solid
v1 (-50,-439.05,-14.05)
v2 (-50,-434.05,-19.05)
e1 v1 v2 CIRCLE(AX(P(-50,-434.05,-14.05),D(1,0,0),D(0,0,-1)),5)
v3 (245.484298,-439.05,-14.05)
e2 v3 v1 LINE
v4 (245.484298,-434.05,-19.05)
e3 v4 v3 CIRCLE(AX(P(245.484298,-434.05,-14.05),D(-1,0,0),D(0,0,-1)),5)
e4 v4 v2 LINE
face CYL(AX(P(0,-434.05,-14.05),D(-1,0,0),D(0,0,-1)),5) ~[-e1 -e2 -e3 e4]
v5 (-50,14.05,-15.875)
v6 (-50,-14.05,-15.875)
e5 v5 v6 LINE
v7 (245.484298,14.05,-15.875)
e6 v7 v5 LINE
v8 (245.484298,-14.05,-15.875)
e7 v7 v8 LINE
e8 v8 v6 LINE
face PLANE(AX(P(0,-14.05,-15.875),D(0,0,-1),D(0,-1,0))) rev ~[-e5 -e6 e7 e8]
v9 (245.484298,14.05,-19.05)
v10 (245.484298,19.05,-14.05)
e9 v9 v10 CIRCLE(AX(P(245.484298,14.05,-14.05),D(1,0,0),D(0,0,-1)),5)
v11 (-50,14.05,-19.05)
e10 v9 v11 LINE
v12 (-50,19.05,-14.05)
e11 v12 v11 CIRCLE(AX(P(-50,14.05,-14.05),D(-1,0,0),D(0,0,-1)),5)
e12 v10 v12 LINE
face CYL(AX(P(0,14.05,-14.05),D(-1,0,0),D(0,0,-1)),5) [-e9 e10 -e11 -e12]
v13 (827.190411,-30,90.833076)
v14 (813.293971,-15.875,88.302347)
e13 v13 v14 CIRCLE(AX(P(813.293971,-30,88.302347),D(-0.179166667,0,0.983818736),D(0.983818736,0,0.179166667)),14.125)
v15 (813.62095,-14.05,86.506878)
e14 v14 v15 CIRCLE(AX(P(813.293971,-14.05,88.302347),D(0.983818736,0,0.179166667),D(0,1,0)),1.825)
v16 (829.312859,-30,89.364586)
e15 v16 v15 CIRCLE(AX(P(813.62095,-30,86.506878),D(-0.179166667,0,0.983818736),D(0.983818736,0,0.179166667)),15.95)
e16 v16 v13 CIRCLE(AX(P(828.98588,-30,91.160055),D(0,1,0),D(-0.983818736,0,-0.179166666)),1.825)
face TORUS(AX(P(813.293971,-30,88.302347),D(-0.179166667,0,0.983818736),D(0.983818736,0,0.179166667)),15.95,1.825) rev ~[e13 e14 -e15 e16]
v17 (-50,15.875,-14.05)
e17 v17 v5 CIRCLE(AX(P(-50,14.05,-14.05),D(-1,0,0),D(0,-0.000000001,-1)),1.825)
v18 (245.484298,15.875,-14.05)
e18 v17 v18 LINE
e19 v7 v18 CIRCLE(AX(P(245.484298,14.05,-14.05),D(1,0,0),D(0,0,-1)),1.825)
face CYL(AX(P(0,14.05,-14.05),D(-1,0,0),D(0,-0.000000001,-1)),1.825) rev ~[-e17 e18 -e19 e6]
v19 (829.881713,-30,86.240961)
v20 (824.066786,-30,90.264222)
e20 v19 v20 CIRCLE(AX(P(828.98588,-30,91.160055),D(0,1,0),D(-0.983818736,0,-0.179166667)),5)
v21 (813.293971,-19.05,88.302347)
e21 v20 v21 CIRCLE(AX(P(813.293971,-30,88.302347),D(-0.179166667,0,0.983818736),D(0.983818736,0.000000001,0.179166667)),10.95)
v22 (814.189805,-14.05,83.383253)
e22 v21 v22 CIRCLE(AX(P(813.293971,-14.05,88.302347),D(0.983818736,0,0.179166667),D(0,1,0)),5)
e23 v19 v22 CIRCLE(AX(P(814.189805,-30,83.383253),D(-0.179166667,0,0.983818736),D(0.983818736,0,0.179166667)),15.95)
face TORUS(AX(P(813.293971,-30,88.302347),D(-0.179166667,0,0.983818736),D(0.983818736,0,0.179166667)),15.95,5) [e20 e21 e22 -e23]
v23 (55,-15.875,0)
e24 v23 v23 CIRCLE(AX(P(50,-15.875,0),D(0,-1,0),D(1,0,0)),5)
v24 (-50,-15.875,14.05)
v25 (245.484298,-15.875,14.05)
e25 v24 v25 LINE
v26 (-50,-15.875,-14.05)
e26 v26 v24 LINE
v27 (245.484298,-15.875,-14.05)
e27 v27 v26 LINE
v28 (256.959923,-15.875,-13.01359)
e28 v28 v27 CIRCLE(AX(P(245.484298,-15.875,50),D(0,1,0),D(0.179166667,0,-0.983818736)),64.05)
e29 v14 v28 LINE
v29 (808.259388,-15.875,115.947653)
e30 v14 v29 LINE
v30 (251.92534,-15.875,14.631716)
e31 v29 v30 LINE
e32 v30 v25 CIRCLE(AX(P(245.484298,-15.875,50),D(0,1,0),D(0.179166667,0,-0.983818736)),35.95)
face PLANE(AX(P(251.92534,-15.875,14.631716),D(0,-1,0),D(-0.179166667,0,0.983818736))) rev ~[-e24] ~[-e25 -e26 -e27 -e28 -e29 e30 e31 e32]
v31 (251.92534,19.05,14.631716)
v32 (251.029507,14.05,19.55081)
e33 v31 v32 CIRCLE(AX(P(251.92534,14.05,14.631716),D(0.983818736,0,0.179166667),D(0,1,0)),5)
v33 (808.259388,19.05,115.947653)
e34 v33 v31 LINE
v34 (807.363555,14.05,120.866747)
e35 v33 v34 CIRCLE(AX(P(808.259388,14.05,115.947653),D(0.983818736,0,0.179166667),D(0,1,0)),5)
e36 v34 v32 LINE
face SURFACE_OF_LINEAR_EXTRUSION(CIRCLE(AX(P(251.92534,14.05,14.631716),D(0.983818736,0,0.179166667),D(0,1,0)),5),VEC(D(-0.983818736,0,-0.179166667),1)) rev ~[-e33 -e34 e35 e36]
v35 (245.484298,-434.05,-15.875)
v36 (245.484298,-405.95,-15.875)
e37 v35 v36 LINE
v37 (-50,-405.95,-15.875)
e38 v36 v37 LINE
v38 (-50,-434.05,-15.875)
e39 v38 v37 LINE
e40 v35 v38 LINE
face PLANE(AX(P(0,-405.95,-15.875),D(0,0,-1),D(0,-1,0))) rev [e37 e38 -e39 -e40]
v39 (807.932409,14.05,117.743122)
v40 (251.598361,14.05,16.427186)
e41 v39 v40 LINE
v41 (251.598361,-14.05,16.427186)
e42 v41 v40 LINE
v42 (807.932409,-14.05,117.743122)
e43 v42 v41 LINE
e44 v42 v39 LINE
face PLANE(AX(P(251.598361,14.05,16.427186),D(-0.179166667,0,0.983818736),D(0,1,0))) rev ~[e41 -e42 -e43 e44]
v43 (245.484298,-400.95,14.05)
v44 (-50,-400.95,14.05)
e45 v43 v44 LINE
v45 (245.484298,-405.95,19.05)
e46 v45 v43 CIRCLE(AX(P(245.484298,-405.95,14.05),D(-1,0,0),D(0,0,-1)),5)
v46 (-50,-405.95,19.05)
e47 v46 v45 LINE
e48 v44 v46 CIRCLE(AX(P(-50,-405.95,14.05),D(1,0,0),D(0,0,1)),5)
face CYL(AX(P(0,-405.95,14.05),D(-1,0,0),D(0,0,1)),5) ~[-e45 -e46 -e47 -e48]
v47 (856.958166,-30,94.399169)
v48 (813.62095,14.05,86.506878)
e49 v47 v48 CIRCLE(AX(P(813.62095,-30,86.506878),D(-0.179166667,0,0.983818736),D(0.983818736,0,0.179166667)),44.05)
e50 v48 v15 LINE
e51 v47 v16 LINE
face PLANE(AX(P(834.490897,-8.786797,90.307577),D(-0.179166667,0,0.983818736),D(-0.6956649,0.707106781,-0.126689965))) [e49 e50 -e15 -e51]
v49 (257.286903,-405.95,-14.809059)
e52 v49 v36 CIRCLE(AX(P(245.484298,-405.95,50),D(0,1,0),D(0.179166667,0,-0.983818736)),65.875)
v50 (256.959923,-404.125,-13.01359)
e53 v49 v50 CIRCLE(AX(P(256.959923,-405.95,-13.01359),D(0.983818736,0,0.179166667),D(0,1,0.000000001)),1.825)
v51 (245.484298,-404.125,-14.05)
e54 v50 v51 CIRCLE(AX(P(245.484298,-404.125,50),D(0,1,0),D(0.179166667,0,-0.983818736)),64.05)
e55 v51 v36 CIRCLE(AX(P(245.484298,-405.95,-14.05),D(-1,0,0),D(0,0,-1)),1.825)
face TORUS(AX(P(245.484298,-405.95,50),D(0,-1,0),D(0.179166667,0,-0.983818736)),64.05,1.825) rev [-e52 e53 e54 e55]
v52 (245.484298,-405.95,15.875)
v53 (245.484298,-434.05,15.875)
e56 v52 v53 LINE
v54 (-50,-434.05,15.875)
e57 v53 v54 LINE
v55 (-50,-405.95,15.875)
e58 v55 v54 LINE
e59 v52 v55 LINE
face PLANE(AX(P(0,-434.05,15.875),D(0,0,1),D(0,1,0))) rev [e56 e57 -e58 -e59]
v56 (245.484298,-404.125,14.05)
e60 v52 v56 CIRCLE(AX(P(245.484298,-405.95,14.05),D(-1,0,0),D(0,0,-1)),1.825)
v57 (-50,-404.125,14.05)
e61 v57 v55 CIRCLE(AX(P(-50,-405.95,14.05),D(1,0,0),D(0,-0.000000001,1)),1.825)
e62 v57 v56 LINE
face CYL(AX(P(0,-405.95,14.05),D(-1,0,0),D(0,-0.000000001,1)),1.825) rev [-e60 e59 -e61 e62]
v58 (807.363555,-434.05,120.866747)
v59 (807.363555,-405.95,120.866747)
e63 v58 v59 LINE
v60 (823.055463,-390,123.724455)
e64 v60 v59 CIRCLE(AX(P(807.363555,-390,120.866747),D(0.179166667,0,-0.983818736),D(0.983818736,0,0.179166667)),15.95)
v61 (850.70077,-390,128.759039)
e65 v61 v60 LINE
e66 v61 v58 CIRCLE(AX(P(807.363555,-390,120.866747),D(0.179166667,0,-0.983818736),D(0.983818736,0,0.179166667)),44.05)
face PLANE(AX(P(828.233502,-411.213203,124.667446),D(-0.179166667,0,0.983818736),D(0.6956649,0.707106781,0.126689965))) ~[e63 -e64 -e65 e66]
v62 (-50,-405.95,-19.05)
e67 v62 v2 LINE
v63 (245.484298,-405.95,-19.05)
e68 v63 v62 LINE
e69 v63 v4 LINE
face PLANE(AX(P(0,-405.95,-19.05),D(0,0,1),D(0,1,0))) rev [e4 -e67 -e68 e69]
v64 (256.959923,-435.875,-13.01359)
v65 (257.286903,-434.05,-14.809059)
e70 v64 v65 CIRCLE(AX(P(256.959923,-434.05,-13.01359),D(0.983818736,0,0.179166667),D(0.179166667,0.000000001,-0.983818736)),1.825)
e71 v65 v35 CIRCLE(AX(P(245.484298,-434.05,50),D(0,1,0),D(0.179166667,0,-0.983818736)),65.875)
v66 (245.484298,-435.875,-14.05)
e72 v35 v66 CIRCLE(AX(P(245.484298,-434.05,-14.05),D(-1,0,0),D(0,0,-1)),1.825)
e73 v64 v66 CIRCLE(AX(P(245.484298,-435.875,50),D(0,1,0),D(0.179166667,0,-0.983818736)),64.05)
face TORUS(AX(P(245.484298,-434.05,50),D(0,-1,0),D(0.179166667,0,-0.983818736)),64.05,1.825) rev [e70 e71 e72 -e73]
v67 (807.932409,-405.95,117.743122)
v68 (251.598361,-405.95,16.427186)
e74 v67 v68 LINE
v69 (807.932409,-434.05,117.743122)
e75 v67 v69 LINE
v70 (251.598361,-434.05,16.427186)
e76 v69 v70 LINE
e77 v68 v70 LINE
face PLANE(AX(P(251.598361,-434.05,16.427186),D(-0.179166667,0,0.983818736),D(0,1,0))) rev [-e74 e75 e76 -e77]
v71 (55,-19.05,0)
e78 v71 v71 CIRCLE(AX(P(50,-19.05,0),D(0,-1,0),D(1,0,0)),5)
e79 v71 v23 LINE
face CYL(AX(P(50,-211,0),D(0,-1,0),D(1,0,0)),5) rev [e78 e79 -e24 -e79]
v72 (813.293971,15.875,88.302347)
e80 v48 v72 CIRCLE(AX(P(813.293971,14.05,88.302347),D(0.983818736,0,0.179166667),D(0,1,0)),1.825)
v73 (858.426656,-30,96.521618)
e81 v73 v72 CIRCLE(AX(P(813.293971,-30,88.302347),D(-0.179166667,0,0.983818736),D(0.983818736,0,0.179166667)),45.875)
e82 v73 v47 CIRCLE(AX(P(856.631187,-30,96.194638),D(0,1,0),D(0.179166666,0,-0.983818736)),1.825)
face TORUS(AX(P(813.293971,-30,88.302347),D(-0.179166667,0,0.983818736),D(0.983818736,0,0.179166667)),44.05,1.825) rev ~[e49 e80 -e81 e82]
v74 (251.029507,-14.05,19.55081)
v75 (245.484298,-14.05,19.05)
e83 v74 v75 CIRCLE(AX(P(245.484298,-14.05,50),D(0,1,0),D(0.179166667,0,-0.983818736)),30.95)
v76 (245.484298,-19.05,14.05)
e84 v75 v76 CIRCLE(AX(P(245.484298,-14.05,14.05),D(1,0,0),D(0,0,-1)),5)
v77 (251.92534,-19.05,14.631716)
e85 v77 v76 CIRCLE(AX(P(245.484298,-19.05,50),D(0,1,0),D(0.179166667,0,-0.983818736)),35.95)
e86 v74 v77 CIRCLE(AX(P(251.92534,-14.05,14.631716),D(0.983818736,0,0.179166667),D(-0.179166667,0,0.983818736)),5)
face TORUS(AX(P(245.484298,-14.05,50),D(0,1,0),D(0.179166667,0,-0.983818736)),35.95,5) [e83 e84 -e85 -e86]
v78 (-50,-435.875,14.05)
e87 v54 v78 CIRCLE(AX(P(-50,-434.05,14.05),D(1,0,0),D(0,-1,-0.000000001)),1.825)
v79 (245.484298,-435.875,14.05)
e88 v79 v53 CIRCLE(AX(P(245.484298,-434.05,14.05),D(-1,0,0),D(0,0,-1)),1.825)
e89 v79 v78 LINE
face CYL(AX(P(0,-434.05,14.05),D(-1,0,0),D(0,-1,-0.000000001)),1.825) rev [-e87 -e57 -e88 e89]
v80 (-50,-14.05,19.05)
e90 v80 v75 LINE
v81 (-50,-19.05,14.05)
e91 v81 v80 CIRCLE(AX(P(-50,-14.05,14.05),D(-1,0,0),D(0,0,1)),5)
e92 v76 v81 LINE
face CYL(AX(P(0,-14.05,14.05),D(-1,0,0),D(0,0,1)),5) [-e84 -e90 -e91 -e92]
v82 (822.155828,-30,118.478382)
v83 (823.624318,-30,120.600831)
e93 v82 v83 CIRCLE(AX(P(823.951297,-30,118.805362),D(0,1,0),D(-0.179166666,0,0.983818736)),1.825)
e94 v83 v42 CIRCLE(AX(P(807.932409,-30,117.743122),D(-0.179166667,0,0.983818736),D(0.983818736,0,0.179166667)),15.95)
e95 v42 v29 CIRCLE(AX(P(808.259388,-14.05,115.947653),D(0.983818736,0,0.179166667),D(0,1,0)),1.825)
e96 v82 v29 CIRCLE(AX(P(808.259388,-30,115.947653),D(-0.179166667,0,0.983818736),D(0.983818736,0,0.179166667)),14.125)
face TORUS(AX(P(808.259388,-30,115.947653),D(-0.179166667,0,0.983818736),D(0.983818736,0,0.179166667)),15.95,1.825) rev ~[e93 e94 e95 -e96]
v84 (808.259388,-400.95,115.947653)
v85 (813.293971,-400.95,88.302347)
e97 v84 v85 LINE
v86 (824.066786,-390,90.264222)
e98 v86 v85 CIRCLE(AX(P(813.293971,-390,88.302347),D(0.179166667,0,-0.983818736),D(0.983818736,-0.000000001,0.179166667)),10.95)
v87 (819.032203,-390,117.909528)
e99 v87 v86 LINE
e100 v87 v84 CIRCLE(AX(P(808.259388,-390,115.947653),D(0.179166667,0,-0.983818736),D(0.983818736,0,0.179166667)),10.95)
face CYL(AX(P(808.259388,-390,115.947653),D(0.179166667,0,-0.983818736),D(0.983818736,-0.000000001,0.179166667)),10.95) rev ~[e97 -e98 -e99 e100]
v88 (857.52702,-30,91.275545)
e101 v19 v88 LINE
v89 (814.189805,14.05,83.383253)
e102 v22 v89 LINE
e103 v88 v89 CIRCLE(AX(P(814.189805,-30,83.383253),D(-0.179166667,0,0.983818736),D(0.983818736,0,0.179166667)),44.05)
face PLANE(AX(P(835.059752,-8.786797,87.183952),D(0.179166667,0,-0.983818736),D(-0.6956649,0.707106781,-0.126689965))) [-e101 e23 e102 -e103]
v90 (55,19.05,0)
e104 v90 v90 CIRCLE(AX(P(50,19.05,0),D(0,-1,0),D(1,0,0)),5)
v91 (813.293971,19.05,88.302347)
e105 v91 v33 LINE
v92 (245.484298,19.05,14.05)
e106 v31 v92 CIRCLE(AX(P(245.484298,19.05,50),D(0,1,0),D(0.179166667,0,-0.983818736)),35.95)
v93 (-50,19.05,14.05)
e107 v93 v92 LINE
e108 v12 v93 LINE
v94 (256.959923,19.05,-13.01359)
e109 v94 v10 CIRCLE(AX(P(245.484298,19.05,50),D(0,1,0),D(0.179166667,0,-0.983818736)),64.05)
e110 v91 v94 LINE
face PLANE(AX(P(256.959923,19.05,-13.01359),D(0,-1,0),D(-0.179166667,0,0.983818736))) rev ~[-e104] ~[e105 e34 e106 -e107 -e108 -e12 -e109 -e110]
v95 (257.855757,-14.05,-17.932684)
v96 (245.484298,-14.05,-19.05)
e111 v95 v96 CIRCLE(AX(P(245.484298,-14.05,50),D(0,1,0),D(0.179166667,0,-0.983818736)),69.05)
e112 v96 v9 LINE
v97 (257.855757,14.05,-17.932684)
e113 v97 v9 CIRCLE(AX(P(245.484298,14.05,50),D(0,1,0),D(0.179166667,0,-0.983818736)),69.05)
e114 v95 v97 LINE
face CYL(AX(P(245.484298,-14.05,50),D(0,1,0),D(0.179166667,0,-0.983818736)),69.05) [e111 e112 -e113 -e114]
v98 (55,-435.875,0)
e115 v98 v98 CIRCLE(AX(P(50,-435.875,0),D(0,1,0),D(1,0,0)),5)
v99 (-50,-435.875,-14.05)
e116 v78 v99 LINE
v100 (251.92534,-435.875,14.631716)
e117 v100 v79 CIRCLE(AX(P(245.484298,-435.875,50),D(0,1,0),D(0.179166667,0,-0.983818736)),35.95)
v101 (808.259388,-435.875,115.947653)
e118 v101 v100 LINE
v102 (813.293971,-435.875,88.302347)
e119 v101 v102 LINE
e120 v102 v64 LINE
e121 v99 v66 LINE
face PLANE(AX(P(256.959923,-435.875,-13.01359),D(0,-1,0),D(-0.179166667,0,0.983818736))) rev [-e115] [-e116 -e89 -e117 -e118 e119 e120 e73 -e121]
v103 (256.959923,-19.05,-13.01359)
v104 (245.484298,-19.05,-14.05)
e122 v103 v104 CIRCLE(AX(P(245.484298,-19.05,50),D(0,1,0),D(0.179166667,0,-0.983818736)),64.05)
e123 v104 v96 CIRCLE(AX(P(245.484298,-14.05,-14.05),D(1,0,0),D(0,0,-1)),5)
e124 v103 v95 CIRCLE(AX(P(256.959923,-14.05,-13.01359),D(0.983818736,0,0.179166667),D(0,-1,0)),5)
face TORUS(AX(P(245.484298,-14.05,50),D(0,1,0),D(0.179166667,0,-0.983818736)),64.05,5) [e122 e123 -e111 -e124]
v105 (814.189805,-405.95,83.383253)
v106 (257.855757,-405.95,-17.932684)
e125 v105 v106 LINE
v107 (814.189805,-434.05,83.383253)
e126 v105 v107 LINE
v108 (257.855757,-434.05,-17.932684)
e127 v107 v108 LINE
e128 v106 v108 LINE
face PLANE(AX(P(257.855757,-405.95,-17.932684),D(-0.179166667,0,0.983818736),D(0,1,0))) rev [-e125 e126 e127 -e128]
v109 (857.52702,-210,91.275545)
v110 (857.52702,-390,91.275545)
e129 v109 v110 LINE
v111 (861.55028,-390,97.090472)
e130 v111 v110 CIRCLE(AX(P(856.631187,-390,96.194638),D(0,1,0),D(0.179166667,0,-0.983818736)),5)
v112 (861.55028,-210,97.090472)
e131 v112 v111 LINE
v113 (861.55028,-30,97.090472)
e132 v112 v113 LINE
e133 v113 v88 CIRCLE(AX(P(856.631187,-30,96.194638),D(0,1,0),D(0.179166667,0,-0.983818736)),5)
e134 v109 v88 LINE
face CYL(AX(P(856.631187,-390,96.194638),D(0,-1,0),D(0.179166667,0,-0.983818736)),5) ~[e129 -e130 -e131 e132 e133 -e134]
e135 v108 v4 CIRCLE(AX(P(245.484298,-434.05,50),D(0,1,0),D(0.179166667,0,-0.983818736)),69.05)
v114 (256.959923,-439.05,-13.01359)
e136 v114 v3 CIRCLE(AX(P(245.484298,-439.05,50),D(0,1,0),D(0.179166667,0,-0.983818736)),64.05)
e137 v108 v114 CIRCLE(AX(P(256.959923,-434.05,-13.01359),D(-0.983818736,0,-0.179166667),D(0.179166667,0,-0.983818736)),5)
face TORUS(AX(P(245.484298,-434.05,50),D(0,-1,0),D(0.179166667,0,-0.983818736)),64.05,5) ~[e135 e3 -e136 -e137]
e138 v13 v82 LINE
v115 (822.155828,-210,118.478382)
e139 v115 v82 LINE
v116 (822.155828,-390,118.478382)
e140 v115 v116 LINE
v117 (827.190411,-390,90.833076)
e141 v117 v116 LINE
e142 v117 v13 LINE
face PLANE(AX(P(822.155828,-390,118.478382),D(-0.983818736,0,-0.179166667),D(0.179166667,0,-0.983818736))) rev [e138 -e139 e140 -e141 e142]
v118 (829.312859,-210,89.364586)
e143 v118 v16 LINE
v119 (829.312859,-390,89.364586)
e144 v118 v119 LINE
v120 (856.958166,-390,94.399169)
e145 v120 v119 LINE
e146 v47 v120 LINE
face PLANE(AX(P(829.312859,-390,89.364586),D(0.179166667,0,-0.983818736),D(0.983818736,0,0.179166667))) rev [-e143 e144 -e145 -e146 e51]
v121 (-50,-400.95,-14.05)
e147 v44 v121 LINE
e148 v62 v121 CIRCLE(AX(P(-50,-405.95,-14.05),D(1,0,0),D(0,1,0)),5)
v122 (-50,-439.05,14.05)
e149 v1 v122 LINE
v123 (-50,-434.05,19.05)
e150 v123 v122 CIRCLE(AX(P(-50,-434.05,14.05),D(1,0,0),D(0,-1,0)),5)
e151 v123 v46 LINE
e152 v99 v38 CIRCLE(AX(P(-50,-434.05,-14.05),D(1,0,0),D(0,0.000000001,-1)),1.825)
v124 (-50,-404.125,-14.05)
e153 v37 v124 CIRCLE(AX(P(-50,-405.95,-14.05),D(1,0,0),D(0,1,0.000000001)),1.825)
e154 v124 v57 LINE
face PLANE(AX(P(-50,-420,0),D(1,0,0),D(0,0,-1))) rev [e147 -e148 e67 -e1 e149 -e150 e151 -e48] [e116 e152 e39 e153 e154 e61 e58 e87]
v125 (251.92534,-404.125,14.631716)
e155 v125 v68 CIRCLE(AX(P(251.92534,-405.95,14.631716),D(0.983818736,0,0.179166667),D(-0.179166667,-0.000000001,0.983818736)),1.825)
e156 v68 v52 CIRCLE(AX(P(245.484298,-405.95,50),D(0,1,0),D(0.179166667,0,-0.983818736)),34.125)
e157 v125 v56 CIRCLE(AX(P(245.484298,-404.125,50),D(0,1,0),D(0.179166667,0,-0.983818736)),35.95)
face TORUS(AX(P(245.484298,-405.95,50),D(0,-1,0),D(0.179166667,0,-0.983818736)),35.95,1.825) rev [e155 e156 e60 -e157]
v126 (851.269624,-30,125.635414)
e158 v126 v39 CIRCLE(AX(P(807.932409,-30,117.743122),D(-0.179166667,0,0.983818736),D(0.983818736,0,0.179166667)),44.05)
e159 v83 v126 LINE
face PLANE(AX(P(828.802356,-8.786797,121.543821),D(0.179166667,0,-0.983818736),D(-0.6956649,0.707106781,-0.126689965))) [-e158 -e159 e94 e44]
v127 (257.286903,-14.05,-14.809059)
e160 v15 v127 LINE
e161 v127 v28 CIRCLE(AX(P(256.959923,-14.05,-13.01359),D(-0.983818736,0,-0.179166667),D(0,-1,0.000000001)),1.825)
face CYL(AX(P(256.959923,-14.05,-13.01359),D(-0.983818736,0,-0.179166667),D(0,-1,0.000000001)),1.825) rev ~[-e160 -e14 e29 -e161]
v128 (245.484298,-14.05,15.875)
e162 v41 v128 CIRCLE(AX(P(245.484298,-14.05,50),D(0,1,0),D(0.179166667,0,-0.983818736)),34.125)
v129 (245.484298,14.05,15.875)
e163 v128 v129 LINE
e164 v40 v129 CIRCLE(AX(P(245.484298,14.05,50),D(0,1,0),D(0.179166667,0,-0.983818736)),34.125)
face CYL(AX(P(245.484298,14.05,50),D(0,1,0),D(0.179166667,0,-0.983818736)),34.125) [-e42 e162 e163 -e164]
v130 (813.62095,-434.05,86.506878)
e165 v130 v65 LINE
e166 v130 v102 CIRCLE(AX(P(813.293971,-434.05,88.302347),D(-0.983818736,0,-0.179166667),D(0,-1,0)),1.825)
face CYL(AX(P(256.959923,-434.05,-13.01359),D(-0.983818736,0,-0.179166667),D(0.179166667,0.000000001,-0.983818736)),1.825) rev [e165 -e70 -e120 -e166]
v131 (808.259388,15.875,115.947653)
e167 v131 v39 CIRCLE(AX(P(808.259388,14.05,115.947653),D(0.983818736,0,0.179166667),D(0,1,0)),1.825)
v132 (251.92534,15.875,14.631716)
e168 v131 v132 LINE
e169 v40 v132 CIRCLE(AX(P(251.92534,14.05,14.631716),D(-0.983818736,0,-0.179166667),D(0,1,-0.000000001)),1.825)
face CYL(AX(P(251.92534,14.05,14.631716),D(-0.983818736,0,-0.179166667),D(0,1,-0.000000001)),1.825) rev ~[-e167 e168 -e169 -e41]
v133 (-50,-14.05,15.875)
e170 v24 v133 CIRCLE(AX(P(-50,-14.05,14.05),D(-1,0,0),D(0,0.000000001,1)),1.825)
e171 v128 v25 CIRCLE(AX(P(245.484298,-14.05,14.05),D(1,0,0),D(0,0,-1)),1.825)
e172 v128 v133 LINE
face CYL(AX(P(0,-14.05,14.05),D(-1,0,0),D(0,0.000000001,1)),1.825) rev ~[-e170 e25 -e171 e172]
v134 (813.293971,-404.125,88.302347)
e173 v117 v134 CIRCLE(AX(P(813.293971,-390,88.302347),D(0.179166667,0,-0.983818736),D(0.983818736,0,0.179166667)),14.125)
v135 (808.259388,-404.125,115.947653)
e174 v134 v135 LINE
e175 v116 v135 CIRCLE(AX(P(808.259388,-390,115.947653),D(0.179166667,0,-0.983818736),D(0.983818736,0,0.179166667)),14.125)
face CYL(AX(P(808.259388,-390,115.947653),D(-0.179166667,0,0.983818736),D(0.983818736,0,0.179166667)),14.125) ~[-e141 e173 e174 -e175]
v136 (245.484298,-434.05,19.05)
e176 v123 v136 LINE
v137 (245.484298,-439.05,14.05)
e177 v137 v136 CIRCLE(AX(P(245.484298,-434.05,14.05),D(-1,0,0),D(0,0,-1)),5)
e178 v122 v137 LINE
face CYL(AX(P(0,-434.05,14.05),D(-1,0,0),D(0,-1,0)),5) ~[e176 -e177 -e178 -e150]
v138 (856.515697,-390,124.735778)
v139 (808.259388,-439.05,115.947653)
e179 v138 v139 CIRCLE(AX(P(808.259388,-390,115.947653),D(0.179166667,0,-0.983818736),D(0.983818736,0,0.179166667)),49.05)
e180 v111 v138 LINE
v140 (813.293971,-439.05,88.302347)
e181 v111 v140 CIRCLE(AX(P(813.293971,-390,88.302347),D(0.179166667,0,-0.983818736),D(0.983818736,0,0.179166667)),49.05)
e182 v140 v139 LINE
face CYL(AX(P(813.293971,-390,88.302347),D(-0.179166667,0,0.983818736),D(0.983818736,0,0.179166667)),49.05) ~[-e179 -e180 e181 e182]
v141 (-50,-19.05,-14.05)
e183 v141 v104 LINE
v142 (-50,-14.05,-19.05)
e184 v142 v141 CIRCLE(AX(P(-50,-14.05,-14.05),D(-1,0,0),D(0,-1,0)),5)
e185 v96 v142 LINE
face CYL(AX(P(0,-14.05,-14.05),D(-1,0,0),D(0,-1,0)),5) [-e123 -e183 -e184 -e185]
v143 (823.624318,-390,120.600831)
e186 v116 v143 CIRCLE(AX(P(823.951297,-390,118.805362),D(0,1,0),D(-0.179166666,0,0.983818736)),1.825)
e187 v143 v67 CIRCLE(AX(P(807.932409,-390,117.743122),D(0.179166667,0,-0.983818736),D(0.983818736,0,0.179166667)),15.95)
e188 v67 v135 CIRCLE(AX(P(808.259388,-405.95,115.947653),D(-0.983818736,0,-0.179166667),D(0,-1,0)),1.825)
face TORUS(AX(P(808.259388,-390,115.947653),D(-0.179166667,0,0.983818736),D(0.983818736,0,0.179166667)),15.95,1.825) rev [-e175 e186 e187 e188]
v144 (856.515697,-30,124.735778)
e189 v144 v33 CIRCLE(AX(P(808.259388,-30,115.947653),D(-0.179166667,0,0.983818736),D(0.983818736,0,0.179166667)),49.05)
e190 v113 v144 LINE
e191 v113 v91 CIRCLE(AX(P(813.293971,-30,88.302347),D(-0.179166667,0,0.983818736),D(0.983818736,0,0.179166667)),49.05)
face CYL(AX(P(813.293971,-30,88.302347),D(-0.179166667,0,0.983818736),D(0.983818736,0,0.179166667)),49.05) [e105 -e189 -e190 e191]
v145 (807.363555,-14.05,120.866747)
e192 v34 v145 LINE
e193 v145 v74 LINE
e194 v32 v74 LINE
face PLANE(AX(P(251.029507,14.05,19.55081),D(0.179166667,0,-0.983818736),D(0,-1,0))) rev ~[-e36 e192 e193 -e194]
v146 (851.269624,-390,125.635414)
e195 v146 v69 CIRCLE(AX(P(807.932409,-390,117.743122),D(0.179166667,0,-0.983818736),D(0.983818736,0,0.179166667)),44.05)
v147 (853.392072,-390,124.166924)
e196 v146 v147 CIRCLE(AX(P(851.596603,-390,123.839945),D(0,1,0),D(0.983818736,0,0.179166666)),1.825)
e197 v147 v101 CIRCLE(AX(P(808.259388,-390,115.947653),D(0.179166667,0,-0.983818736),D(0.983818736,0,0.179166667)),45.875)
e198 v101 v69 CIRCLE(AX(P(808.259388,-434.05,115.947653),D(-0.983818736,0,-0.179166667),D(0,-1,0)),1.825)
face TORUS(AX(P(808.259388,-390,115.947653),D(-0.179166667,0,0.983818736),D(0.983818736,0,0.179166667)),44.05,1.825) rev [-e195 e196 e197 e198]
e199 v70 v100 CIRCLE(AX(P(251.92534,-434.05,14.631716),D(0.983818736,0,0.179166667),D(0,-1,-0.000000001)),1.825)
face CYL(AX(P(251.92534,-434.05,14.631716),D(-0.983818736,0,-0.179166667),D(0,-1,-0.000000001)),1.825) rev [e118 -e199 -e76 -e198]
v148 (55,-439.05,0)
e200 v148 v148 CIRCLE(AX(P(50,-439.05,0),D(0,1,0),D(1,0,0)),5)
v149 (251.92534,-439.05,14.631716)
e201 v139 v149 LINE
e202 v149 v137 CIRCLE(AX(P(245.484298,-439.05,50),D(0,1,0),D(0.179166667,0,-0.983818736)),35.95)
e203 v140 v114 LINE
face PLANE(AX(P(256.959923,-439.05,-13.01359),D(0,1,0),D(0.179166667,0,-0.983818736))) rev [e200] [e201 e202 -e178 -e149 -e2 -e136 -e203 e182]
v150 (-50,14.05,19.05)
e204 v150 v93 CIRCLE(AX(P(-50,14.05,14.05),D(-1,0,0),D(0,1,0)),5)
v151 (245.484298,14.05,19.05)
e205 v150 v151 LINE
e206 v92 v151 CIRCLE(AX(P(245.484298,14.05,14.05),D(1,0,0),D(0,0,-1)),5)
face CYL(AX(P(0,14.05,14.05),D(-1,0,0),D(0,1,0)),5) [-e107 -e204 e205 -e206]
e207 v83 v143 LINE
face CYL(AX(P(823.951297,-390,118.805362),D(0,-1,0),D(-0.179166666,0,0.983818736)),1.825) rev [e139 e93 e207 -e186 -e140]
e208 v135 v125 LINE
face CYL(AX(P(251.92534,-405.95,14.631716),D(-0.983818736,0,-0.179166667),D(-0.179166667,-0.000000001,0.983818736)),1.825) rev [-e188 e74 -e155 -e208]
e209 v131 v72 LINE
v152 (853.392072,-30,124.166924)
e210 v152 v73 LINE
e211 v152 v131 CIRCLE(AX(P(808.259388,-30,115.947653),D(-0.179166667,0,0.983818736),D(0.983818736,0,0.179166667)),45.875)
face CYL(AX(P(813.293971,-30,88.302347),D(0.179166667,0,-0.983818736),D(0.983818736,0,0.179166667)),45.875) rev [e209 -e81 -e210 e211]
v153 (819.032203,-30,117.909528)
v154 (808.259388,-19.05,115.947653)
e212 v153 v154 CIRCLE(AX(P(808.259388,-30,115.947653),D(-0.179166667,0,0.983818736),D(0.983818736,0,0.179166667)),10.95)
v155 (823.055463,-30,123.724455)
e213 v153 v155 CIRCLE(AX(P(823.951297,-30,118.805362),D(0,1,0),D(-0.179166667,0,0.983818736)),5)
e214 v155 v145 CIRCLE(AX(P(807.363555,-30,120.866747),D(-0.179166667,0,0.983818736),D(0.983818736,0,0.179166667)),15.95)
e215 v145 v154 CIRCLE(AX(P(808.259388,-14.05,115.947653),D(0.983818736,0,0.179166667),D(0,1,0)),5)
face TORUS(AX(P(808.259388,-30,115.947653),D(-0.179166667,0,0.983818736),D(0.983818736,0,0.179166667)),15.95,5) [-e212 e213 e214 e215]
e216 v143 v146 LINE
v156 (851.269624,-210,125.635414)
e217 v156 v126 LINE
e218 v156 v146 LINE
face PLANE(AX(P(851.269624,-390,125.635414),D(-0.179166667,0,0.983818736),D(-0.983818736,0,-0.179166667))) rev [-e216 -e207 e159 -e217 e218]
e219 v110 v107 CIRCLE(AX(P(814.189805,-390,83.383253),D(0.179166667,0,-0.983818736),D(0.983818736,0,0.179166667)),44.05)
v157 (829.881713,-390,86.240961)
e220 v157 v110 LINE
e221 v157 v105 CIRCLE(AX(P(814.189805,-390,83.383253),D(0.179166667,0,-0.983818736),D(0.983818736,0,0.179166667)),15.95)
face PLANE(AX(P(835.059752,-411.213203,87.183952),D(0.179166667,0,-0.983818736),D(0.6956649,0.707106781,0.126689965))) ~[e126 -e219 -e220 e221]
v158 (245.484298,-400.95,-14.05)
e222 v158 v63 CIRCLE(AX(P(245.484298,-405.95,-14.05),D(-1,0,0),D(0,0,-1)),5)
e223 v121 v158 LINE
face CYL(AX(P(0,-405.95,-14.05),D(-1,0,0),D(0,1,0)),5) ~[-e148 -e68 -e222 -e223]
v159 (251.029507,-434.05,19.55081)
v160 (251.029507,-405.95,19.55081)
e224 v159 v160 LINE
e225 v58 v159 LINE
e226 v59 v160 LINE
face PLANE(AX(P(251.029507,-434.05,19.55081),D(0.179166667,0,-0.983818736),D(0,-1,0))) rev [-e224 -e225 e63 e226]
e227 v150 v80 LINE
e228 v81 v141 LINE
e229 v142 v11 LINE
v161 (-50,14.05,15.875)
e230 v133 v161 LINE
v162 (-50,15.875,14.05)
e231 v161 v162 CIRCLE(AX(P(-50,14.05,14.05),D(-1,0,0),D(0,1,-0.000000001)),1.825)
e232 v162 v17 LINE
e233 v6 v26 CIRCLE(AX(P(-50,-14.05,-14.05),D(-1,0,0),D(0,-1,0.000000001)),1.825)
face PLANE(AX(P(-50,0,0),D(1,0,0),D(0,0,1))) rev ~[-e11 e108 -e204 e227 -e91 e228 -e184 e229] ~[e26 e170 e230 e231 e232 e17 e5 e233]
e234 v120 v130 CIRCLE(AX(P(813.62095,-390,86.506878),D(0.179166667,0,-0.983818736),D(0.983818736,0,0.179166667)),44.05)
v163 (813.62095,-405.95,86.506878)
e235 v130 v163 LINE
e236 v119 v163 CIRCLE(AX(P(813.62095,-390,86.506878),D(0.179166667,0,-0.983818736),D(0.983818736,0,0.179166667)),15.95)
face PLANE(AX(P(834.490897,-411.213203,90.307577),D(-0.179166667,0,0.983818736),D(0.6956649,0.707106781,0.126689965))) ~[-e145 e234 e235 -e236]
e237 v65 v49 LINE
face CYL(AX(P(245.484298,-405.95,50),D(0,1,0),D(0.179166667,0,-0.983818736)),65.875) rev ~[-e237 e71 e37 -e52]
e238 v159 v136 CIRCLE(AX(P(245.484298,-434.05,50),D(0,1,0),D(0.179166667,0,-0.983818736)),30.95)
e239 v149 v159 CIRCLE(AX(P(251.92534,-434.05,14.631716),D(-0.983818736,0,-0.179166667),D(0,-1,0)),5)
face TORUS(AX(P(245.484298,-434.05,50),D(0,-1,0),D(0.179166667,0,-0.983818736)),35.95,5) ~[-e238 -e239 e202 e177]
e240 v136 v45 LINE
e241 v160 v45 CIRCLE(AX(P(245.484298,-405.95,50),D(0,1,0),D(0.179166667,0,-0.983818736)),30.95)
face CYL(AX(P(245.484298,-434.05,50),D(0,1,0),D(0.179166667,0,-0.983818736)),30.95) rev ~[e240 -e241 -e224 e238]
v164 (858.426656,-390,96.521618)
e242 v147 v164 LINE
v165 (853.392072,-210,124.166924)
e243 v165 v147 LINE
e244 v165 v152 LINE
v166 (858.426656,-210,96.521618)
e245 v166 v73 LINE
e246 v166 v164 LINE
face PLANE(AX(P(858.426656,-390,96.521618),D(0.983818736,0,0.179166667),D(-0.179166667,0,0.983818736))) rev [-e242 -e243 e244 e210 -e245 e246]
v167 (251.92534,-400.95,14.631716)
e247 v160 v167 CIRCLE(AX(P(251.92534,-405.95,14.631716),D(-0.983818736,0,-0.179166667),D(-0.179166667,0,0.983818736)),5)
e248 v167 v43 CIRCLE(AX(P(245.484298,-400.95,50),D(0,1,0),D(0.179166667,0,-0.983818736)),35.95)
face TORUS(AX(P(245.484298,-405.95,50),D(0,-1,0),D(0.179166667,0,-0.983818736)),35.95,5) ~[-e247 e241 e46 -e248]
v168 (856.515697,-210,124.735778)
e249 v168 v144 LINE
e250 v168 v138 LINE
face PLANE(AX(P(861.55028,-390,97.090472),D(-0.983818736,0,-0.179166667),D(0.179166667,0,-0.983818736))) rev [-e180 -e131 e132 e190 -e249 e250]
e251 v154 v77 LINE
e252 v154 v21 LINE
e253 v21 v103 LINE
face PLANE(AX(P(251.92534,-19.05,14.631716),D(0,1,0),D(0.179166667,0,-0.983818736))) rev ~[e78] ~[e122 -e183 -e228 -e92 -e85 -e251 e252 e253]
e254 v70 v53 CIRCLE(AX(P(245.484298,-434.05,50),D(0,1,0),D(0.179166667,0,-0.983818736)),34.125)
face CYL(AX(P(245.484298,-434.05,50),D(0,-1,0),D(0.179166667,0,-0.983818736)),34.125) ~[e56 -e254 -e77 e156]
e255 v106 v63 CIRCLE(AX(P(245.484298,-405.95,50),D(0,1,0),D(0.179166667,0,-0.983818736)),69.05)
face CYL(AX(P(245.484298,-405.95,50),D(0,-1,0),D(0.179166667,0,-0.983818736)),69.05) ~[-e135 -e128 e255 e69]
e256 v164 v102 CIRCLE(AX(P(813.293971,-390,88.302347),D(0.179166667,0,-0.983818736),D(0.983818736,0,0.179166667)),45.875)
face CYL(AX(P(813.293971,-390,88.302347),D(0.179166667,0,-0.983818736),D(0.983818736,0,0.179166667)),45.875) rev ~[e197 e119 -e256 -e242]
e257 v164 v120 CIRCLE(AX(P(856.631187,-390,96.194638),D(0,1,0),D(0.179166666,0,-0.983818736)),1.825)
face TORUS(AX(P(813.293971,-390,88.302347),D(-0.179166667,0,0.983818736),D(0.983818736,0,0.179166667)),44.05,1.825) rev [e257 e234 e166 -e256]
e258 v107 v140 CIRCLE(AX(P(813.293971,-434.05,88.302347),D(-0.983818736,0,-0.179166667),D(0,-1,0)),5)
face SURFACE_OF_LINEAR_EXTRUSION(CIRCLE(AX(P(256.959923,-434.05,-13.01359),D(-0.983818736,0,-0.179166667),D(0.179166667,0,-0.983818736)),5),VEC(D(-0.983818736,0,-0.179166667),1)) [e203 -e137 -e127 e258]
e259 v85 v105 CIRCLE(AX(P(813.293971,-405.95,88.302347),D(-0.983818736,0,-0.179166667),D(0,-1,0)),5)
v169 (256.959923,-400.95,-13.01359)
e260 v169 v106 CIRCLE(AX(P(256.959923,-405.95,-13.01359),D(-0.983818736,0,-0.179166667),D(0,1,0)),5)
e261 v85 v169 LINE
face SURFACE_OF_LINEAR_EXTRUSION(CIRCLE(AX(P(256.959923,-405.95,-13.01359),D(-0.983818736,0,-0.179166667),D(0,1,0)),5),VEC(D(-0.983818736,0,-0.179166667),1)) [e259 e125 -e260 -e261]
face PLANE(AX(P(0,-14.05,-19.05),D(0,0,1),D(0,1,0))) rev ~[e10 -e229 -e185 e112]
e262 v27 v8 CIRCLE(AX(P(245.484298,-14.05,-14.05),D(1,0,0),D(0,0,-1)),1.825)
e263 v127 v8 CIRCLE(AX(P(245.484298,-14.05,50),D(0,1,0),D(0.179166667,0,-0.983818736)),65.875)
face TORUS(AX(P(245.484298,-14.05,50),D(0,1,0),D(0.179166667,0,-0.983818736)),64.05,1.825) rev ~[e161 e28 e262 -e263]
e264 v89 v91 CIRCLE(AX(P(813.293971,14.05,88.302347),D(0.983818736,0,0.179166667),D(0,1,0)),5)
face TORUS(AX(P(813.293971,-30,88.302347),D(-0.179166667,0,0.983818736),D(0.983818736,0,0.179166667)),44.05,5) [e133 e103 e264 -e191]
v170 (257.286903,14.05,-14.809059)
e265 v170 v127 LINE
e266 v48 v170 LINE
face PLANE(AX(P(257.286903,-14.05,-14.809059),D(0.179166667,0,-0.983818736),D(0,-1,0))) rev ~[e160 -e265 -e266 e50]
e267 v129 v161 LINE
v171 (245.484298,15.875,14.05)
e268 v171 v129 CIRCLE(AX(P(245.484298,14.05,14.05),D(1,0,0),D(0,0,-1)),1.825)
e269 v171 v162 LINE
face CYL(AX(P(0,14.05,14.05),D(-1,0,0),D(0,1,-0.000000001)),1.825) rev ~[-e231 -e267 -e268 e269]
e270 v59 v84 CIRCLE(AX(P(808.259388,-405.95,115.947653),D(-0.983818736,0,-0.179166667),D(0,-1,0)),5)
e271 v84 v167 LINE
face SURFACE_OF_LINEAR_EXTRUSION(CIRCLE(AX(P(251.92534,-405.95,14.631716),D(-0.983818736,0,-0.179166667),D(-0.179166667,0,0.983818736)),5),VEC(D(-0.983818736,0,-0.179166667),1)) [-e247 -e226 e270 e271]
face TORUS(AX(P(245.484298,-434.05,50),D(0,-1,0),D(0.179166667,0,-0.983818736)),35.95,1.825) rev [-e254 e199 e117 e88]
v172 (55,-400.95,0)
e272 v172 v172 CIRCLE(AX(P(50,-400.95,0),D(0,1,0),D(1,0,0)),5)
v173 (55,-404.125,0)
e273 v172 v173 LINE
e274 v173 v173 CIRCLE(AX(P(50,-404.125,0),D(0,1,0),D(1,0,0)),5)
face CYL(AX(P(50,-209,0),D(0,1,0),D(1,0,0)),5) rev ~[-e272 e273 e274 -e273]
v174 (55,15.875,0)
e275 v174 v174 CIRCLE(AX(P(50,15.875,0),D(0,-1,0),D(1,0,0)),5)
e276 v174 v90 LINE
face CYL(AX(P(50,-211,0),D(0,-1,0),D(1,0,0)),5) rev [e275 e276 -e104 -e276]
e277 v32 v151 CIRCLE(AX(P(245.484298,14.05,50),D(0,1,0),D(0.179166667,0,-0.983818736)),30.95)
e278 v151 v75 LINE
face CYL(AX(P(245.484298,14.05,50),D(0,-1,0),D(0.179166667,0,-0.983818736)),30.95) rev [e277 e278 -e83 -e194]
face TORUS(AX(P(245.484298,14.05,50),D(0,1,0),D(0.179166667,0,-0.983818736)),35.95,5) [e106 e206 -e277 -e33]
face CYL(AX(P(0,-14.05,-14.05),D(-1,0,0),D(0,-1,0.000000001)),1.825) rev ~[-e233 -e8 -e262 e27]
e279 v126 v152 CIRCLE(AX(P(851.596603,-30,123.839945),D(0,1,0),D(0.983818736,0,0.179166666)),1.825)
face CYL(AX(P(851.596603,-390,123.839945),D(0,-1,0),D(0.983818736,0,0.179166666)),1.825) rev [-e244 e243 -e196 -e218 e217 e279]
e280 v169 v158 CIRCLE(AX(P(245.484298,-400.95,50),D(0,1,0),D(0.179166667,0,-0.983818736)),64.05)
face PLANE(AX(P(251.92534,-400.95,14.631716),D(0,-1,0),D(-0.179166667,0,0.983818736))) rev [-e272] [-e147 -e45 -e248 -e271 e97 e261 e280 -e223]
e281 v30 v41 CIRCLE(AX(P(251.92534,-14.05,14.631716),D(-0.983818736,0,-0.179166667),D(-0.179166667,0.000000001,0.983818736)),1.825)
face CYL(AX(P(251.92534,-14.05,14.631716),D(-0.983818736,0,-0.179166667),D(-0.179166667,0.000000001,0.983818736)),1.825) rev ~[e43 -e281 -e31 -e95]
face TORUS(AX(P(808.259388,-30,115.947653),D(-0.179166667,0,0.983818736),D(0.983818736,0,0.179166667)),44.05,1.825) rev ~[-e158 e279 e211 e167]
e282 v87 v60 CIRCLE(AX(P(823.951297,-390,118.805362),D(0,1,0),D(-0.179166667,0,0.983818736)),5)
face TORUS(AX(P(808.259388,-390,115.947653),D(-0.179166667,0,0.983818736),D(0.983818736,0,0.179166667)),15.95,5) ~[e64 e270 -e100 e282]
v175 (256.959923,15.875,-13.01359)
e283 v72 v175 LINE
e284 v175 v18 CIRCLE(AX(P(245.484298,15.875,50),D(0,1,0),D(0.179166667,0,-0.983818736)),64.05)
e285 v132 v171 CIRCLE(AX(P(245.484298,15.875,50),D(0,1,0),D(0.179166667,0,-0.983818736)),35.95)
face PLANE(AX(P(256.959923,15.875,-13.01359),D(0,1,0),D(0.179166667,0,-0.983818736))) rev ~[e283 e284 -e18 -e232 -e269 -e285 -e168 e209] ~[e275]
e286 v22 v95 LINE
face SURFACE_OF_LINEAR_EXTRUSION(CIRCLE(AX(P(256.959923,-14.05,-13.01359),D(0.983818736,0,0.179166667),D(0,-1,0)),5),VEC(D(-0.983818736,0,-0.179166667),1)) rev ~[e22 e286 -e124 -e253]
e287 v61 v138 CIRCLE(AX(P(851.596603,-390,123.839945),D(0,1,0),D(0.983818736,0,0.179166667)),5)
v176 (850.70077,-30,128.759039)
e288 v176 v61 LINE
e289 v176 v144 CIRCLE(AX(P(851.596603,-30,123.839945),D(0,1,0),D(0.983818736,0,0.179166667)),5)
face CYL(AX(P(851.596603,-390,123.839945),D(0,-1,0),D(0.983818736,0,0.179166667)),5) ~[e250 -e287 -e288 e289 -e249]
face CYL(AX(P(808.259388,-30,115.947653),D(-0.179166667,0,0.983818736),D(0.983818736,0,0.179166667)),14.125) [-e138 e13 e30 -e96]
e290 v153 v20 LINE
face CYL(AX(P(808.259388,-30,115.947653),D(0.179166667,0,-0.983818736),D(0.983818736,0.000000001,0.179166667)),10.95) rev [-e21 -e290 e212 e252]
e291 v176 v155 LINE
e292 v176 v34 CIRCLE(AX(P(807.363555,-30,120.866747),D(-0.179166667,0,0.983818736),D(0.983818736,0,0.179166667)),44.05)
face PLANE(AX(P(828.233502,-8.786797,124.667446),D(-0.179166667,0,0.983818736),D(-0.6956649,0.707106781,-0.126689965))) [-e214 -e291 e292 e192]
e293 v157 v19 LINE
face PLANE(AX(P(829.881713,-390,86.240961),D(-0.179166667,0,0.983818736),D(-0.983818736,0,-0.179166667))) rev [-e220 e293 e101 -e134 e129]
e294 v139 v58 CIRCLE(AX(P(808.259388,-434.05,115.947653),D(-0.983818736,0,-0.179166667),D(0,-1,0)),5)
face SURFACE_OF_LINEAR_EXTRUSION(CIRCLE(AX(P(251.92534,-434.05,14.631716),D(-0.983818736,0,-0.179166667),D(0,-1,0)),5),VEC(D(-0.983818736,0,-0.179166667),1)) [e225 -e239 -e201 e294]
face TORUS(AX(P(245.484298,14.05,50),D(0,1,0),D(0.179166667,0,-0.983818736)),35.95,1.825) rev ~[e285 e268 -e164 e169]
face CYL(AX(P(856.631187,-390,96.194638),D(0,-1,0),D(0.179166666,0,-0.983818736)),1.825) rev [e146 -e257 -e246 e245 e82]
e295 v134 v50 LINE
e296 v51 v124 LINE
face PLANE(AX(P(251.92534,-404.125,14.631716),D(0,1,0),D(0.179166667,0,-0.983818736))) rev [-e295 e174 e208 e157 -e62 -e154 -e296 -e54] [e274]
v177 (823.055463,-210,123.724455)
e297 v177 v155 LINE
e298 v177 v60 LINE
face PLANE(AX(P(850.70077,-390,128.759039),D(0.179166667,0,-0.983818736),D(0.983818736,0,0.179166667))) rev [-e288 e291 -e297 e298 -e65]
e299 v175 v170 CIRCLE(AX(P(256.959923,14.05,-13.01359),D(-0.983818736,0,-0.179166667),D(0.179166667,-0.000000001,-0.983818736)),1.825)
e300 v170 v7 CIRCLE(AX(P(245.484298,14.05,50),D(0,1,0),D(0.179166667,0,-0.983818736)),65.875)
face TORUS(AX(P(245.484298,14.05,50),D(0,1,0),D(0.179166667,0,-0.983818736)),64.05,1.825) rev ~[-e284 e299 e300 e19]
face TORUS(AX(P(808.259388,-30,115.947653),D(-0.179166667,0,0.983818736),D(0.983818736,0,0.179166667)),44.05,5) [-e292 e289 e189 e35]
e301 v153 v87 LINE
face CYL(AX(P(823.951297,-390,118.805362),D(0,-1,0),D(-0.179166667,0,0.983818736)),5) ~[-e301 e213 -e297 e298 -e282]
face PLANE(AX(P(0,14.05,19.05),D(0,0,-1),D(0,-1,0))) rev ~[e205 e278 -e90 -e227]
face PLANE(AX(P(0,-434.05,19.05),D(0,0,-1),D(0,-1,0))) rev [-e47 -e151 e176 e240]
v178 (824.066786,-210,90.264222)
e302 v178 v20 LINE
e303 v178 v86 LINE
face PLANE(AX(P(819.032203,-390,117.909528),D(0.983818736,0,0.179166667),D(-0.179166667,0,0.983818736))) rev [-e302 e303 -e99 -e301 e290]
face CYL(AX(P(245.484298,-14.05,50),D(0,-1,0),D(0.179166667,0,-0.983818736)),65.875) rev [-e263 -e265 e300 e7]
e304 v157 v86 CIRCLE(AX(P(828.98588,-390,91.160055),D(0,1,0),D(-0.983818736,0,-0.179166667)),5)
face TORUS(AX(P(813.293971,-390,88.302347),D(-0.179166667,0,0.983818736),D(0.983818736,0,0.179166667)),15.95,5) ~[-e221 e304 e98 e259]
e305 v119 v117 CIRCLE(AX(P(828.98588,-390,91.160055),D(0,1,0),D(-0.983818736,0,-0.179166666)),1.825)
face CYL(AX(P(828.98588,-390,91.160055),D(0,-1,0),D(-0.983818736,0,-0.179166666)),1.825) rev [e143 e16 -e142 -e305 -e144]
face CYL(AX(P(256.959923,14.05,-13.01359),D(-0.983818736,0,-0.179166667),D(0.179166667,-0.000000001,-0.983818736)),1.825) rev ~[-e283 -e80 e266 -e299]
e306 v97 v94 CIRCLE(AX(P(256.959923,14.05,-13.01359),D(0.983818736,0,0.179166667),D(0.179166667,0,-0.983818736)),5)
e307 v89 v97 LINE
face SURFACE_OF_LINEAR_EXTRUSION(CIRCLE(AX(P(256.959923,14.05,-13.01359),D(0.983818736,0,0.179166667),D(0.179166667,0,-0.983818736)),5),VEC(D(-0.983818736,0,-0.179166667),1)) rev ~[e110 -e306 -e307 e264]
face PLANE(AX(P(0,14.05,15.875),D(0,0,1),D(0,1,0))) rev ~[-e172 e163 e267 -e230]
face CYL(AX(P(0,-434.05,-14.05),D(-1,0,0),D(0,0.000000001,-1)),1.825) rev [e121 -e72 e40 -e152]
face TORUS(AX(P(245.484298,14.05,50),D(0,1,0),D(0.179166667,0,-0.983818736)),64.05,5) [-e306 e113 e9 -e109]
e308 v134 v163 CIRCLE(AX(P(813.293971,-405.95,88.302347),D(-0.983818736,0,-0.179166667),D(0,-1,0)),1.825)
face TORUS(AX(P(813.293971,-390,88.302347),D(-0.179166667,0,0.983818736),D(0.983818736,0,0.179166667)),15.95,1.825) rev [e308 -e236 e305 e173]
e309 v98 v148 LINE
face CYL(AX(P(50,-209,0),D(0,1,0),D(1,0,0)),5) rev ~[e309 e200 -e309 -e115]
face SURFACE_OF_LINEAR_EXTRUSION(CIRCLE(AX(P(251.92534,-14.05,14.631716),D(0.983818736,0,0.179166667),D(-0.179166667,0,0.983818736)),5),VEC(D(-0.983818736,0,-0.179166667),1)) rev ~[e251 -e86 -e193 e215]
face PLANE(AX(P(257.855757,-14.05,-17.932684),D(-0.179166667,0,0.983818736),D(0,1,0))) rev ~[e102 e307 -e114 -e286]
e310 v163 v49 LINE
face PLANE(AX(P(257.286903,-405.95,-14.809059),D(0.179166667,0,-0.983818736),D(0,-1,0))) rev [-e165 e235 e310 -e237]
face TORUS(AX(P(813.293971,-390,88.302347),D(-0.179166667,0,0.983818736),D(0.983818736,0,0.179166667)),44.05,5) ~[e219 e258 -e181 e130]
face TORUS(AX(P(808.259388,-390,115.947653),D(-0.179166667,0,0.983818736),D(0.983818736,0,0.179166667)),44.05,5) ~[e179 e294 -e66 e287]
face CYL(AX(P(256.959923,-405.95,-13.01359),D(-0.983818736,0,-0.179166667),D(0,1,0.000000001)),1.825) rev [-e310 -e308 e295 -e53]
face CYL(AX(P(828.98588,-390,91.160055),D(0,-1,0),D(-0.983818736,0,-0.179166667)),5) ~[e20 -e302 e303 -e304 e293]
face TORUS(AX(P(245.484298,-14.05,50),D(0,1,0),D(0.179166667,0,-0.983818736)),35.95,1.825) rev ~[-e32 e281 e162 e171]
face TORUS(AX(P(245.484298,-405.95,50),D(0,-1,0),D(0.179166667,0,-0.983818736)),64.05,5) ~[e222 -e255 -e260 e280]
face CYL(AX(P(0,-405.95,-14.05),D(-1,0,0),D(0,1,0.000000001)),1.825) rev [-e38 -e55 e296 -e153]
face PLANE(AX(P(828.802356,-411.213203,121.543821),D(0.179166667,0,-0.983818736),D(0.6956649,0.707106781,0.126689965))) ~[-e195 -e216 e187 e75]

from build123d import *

# Parameters (mm, degrees)
CUT_EXTRUDE3_START = -211
SKETCH21_R         = 5
CUT_EXTRUDE3_DEPTH = 231.0500001


with BuildPart() as part:
    # Sweep-Thin3: sweep along a curve in space
    with BuildLine() as sweep_thin3_path:
        Line((0, 0, 0), (-50, 0, 0))
        Line((0, 0, 0), (245.484298454, 0, 0))
        ThreePointArc((254.442631788, 0, 0.809063194), (249.981695461, 0, 0.202676576), (245.484298454, 0, 0))
        Line((254.442631788, 0, 0.809063194), (810.776679593, 0, 102.125))
        ThreePointArc((840.291241677, -30, 107.5), (831.646626586, -8.786796564, 105.925698949), (810.776679593, 0, 102.125))
        Line((840.291241677, -30, 107.5), (840.291241677, -210, 107.5))
    # Sketch2 → Sweep-Thin3 (sweep)
    with BuildSketch(Plane(origin=(0, 0, 0), x_dir=(0, 0, -1), z_dir=(1, 0, 0))):
        with BuildLine():
            Line((14.05, 19.05), (-14.05, 19.05))
            ThreePointArc((-14.05, 19.05), (-17.585533906, 17.585533906), (-19.05, 14.05))
            Line((-19.05, 14.05), (-19.05, -14.05))
            ThreePointArc((-19.05, -14.05), (-17.585533906, -17.585533906), (-14.05, -19.05))
            Line((-14.05, -19.05), (14.05, -19.05))
            ThreePointArc((14.05, -19.05), (17.585533906, -17.585533906), (19.05, -14.05))
            Line((19.05, -14.05), (19.05, 14.05))
            ThreePointArc((19.05, 14.05), (17.585533906, 17.585533906), (14.05, 19.05))
        make_face()
        with BuildLine():
            Line((14.05, 15.875), (-14.05, 15.875))
            ThreePointArc((-14.05, 15.875), (-15.340469876, 15.340469876), (-15.875, 14.05))
            Line((-15.875, 14.05), (-15.875, -14.05))
            ThreePointArc((-15.875, -14.05), (-15.340469876, -15.340469876), (-14.05, -15.875))
            Line((-14.05, -15.875), (14.05, -15.875))
            ThreePointArc((14.05, -15.875), (15.340469876, -15.340469876), (15.875, -14.05))
            Line((15.875, -14.05), (15.875, 14.05))
            ThreePointArc((15.875, 14.05), (15.340469876, 15.340469876), (14.05, 15.875))
        make_face(mode=Mode.SUBTRACT)
    sweep_thin3 = sweep(path=sweep_thin3_path.line)

    # Sketch21 → Cut-Extrude3 (cut)
    with BuildSketch(Plane(origin=(0, 0, 0), x_dir=(1, 0, 0), z_dir=(0, 1, 0)).offset(CUT_EXTRUDE3_START)):
        with Locations((50, 0)):
            Circle(SKETCH21_R)
    cut_extrude3 = extrude(amount=CUT_EXTRUDE3_DEPTH, mode=Mode.SUBTRACT)

    # Mirror1: Sweep-Thin3, Cut-Extrude3 across plane
    add(sweep_thin3.mirror(Plane(origin=(0, -210, 0), x_dir=(0, 0, 1), z_dir=(0, -1, 0))))
    add(cut_extrude3.mirror(Plane(origin=(0, -210, 0), x_dir=(0, 0, 1), z_dir=(0, -1, 0))), mode=Mode.SUBTRACT)


solid = part.part
